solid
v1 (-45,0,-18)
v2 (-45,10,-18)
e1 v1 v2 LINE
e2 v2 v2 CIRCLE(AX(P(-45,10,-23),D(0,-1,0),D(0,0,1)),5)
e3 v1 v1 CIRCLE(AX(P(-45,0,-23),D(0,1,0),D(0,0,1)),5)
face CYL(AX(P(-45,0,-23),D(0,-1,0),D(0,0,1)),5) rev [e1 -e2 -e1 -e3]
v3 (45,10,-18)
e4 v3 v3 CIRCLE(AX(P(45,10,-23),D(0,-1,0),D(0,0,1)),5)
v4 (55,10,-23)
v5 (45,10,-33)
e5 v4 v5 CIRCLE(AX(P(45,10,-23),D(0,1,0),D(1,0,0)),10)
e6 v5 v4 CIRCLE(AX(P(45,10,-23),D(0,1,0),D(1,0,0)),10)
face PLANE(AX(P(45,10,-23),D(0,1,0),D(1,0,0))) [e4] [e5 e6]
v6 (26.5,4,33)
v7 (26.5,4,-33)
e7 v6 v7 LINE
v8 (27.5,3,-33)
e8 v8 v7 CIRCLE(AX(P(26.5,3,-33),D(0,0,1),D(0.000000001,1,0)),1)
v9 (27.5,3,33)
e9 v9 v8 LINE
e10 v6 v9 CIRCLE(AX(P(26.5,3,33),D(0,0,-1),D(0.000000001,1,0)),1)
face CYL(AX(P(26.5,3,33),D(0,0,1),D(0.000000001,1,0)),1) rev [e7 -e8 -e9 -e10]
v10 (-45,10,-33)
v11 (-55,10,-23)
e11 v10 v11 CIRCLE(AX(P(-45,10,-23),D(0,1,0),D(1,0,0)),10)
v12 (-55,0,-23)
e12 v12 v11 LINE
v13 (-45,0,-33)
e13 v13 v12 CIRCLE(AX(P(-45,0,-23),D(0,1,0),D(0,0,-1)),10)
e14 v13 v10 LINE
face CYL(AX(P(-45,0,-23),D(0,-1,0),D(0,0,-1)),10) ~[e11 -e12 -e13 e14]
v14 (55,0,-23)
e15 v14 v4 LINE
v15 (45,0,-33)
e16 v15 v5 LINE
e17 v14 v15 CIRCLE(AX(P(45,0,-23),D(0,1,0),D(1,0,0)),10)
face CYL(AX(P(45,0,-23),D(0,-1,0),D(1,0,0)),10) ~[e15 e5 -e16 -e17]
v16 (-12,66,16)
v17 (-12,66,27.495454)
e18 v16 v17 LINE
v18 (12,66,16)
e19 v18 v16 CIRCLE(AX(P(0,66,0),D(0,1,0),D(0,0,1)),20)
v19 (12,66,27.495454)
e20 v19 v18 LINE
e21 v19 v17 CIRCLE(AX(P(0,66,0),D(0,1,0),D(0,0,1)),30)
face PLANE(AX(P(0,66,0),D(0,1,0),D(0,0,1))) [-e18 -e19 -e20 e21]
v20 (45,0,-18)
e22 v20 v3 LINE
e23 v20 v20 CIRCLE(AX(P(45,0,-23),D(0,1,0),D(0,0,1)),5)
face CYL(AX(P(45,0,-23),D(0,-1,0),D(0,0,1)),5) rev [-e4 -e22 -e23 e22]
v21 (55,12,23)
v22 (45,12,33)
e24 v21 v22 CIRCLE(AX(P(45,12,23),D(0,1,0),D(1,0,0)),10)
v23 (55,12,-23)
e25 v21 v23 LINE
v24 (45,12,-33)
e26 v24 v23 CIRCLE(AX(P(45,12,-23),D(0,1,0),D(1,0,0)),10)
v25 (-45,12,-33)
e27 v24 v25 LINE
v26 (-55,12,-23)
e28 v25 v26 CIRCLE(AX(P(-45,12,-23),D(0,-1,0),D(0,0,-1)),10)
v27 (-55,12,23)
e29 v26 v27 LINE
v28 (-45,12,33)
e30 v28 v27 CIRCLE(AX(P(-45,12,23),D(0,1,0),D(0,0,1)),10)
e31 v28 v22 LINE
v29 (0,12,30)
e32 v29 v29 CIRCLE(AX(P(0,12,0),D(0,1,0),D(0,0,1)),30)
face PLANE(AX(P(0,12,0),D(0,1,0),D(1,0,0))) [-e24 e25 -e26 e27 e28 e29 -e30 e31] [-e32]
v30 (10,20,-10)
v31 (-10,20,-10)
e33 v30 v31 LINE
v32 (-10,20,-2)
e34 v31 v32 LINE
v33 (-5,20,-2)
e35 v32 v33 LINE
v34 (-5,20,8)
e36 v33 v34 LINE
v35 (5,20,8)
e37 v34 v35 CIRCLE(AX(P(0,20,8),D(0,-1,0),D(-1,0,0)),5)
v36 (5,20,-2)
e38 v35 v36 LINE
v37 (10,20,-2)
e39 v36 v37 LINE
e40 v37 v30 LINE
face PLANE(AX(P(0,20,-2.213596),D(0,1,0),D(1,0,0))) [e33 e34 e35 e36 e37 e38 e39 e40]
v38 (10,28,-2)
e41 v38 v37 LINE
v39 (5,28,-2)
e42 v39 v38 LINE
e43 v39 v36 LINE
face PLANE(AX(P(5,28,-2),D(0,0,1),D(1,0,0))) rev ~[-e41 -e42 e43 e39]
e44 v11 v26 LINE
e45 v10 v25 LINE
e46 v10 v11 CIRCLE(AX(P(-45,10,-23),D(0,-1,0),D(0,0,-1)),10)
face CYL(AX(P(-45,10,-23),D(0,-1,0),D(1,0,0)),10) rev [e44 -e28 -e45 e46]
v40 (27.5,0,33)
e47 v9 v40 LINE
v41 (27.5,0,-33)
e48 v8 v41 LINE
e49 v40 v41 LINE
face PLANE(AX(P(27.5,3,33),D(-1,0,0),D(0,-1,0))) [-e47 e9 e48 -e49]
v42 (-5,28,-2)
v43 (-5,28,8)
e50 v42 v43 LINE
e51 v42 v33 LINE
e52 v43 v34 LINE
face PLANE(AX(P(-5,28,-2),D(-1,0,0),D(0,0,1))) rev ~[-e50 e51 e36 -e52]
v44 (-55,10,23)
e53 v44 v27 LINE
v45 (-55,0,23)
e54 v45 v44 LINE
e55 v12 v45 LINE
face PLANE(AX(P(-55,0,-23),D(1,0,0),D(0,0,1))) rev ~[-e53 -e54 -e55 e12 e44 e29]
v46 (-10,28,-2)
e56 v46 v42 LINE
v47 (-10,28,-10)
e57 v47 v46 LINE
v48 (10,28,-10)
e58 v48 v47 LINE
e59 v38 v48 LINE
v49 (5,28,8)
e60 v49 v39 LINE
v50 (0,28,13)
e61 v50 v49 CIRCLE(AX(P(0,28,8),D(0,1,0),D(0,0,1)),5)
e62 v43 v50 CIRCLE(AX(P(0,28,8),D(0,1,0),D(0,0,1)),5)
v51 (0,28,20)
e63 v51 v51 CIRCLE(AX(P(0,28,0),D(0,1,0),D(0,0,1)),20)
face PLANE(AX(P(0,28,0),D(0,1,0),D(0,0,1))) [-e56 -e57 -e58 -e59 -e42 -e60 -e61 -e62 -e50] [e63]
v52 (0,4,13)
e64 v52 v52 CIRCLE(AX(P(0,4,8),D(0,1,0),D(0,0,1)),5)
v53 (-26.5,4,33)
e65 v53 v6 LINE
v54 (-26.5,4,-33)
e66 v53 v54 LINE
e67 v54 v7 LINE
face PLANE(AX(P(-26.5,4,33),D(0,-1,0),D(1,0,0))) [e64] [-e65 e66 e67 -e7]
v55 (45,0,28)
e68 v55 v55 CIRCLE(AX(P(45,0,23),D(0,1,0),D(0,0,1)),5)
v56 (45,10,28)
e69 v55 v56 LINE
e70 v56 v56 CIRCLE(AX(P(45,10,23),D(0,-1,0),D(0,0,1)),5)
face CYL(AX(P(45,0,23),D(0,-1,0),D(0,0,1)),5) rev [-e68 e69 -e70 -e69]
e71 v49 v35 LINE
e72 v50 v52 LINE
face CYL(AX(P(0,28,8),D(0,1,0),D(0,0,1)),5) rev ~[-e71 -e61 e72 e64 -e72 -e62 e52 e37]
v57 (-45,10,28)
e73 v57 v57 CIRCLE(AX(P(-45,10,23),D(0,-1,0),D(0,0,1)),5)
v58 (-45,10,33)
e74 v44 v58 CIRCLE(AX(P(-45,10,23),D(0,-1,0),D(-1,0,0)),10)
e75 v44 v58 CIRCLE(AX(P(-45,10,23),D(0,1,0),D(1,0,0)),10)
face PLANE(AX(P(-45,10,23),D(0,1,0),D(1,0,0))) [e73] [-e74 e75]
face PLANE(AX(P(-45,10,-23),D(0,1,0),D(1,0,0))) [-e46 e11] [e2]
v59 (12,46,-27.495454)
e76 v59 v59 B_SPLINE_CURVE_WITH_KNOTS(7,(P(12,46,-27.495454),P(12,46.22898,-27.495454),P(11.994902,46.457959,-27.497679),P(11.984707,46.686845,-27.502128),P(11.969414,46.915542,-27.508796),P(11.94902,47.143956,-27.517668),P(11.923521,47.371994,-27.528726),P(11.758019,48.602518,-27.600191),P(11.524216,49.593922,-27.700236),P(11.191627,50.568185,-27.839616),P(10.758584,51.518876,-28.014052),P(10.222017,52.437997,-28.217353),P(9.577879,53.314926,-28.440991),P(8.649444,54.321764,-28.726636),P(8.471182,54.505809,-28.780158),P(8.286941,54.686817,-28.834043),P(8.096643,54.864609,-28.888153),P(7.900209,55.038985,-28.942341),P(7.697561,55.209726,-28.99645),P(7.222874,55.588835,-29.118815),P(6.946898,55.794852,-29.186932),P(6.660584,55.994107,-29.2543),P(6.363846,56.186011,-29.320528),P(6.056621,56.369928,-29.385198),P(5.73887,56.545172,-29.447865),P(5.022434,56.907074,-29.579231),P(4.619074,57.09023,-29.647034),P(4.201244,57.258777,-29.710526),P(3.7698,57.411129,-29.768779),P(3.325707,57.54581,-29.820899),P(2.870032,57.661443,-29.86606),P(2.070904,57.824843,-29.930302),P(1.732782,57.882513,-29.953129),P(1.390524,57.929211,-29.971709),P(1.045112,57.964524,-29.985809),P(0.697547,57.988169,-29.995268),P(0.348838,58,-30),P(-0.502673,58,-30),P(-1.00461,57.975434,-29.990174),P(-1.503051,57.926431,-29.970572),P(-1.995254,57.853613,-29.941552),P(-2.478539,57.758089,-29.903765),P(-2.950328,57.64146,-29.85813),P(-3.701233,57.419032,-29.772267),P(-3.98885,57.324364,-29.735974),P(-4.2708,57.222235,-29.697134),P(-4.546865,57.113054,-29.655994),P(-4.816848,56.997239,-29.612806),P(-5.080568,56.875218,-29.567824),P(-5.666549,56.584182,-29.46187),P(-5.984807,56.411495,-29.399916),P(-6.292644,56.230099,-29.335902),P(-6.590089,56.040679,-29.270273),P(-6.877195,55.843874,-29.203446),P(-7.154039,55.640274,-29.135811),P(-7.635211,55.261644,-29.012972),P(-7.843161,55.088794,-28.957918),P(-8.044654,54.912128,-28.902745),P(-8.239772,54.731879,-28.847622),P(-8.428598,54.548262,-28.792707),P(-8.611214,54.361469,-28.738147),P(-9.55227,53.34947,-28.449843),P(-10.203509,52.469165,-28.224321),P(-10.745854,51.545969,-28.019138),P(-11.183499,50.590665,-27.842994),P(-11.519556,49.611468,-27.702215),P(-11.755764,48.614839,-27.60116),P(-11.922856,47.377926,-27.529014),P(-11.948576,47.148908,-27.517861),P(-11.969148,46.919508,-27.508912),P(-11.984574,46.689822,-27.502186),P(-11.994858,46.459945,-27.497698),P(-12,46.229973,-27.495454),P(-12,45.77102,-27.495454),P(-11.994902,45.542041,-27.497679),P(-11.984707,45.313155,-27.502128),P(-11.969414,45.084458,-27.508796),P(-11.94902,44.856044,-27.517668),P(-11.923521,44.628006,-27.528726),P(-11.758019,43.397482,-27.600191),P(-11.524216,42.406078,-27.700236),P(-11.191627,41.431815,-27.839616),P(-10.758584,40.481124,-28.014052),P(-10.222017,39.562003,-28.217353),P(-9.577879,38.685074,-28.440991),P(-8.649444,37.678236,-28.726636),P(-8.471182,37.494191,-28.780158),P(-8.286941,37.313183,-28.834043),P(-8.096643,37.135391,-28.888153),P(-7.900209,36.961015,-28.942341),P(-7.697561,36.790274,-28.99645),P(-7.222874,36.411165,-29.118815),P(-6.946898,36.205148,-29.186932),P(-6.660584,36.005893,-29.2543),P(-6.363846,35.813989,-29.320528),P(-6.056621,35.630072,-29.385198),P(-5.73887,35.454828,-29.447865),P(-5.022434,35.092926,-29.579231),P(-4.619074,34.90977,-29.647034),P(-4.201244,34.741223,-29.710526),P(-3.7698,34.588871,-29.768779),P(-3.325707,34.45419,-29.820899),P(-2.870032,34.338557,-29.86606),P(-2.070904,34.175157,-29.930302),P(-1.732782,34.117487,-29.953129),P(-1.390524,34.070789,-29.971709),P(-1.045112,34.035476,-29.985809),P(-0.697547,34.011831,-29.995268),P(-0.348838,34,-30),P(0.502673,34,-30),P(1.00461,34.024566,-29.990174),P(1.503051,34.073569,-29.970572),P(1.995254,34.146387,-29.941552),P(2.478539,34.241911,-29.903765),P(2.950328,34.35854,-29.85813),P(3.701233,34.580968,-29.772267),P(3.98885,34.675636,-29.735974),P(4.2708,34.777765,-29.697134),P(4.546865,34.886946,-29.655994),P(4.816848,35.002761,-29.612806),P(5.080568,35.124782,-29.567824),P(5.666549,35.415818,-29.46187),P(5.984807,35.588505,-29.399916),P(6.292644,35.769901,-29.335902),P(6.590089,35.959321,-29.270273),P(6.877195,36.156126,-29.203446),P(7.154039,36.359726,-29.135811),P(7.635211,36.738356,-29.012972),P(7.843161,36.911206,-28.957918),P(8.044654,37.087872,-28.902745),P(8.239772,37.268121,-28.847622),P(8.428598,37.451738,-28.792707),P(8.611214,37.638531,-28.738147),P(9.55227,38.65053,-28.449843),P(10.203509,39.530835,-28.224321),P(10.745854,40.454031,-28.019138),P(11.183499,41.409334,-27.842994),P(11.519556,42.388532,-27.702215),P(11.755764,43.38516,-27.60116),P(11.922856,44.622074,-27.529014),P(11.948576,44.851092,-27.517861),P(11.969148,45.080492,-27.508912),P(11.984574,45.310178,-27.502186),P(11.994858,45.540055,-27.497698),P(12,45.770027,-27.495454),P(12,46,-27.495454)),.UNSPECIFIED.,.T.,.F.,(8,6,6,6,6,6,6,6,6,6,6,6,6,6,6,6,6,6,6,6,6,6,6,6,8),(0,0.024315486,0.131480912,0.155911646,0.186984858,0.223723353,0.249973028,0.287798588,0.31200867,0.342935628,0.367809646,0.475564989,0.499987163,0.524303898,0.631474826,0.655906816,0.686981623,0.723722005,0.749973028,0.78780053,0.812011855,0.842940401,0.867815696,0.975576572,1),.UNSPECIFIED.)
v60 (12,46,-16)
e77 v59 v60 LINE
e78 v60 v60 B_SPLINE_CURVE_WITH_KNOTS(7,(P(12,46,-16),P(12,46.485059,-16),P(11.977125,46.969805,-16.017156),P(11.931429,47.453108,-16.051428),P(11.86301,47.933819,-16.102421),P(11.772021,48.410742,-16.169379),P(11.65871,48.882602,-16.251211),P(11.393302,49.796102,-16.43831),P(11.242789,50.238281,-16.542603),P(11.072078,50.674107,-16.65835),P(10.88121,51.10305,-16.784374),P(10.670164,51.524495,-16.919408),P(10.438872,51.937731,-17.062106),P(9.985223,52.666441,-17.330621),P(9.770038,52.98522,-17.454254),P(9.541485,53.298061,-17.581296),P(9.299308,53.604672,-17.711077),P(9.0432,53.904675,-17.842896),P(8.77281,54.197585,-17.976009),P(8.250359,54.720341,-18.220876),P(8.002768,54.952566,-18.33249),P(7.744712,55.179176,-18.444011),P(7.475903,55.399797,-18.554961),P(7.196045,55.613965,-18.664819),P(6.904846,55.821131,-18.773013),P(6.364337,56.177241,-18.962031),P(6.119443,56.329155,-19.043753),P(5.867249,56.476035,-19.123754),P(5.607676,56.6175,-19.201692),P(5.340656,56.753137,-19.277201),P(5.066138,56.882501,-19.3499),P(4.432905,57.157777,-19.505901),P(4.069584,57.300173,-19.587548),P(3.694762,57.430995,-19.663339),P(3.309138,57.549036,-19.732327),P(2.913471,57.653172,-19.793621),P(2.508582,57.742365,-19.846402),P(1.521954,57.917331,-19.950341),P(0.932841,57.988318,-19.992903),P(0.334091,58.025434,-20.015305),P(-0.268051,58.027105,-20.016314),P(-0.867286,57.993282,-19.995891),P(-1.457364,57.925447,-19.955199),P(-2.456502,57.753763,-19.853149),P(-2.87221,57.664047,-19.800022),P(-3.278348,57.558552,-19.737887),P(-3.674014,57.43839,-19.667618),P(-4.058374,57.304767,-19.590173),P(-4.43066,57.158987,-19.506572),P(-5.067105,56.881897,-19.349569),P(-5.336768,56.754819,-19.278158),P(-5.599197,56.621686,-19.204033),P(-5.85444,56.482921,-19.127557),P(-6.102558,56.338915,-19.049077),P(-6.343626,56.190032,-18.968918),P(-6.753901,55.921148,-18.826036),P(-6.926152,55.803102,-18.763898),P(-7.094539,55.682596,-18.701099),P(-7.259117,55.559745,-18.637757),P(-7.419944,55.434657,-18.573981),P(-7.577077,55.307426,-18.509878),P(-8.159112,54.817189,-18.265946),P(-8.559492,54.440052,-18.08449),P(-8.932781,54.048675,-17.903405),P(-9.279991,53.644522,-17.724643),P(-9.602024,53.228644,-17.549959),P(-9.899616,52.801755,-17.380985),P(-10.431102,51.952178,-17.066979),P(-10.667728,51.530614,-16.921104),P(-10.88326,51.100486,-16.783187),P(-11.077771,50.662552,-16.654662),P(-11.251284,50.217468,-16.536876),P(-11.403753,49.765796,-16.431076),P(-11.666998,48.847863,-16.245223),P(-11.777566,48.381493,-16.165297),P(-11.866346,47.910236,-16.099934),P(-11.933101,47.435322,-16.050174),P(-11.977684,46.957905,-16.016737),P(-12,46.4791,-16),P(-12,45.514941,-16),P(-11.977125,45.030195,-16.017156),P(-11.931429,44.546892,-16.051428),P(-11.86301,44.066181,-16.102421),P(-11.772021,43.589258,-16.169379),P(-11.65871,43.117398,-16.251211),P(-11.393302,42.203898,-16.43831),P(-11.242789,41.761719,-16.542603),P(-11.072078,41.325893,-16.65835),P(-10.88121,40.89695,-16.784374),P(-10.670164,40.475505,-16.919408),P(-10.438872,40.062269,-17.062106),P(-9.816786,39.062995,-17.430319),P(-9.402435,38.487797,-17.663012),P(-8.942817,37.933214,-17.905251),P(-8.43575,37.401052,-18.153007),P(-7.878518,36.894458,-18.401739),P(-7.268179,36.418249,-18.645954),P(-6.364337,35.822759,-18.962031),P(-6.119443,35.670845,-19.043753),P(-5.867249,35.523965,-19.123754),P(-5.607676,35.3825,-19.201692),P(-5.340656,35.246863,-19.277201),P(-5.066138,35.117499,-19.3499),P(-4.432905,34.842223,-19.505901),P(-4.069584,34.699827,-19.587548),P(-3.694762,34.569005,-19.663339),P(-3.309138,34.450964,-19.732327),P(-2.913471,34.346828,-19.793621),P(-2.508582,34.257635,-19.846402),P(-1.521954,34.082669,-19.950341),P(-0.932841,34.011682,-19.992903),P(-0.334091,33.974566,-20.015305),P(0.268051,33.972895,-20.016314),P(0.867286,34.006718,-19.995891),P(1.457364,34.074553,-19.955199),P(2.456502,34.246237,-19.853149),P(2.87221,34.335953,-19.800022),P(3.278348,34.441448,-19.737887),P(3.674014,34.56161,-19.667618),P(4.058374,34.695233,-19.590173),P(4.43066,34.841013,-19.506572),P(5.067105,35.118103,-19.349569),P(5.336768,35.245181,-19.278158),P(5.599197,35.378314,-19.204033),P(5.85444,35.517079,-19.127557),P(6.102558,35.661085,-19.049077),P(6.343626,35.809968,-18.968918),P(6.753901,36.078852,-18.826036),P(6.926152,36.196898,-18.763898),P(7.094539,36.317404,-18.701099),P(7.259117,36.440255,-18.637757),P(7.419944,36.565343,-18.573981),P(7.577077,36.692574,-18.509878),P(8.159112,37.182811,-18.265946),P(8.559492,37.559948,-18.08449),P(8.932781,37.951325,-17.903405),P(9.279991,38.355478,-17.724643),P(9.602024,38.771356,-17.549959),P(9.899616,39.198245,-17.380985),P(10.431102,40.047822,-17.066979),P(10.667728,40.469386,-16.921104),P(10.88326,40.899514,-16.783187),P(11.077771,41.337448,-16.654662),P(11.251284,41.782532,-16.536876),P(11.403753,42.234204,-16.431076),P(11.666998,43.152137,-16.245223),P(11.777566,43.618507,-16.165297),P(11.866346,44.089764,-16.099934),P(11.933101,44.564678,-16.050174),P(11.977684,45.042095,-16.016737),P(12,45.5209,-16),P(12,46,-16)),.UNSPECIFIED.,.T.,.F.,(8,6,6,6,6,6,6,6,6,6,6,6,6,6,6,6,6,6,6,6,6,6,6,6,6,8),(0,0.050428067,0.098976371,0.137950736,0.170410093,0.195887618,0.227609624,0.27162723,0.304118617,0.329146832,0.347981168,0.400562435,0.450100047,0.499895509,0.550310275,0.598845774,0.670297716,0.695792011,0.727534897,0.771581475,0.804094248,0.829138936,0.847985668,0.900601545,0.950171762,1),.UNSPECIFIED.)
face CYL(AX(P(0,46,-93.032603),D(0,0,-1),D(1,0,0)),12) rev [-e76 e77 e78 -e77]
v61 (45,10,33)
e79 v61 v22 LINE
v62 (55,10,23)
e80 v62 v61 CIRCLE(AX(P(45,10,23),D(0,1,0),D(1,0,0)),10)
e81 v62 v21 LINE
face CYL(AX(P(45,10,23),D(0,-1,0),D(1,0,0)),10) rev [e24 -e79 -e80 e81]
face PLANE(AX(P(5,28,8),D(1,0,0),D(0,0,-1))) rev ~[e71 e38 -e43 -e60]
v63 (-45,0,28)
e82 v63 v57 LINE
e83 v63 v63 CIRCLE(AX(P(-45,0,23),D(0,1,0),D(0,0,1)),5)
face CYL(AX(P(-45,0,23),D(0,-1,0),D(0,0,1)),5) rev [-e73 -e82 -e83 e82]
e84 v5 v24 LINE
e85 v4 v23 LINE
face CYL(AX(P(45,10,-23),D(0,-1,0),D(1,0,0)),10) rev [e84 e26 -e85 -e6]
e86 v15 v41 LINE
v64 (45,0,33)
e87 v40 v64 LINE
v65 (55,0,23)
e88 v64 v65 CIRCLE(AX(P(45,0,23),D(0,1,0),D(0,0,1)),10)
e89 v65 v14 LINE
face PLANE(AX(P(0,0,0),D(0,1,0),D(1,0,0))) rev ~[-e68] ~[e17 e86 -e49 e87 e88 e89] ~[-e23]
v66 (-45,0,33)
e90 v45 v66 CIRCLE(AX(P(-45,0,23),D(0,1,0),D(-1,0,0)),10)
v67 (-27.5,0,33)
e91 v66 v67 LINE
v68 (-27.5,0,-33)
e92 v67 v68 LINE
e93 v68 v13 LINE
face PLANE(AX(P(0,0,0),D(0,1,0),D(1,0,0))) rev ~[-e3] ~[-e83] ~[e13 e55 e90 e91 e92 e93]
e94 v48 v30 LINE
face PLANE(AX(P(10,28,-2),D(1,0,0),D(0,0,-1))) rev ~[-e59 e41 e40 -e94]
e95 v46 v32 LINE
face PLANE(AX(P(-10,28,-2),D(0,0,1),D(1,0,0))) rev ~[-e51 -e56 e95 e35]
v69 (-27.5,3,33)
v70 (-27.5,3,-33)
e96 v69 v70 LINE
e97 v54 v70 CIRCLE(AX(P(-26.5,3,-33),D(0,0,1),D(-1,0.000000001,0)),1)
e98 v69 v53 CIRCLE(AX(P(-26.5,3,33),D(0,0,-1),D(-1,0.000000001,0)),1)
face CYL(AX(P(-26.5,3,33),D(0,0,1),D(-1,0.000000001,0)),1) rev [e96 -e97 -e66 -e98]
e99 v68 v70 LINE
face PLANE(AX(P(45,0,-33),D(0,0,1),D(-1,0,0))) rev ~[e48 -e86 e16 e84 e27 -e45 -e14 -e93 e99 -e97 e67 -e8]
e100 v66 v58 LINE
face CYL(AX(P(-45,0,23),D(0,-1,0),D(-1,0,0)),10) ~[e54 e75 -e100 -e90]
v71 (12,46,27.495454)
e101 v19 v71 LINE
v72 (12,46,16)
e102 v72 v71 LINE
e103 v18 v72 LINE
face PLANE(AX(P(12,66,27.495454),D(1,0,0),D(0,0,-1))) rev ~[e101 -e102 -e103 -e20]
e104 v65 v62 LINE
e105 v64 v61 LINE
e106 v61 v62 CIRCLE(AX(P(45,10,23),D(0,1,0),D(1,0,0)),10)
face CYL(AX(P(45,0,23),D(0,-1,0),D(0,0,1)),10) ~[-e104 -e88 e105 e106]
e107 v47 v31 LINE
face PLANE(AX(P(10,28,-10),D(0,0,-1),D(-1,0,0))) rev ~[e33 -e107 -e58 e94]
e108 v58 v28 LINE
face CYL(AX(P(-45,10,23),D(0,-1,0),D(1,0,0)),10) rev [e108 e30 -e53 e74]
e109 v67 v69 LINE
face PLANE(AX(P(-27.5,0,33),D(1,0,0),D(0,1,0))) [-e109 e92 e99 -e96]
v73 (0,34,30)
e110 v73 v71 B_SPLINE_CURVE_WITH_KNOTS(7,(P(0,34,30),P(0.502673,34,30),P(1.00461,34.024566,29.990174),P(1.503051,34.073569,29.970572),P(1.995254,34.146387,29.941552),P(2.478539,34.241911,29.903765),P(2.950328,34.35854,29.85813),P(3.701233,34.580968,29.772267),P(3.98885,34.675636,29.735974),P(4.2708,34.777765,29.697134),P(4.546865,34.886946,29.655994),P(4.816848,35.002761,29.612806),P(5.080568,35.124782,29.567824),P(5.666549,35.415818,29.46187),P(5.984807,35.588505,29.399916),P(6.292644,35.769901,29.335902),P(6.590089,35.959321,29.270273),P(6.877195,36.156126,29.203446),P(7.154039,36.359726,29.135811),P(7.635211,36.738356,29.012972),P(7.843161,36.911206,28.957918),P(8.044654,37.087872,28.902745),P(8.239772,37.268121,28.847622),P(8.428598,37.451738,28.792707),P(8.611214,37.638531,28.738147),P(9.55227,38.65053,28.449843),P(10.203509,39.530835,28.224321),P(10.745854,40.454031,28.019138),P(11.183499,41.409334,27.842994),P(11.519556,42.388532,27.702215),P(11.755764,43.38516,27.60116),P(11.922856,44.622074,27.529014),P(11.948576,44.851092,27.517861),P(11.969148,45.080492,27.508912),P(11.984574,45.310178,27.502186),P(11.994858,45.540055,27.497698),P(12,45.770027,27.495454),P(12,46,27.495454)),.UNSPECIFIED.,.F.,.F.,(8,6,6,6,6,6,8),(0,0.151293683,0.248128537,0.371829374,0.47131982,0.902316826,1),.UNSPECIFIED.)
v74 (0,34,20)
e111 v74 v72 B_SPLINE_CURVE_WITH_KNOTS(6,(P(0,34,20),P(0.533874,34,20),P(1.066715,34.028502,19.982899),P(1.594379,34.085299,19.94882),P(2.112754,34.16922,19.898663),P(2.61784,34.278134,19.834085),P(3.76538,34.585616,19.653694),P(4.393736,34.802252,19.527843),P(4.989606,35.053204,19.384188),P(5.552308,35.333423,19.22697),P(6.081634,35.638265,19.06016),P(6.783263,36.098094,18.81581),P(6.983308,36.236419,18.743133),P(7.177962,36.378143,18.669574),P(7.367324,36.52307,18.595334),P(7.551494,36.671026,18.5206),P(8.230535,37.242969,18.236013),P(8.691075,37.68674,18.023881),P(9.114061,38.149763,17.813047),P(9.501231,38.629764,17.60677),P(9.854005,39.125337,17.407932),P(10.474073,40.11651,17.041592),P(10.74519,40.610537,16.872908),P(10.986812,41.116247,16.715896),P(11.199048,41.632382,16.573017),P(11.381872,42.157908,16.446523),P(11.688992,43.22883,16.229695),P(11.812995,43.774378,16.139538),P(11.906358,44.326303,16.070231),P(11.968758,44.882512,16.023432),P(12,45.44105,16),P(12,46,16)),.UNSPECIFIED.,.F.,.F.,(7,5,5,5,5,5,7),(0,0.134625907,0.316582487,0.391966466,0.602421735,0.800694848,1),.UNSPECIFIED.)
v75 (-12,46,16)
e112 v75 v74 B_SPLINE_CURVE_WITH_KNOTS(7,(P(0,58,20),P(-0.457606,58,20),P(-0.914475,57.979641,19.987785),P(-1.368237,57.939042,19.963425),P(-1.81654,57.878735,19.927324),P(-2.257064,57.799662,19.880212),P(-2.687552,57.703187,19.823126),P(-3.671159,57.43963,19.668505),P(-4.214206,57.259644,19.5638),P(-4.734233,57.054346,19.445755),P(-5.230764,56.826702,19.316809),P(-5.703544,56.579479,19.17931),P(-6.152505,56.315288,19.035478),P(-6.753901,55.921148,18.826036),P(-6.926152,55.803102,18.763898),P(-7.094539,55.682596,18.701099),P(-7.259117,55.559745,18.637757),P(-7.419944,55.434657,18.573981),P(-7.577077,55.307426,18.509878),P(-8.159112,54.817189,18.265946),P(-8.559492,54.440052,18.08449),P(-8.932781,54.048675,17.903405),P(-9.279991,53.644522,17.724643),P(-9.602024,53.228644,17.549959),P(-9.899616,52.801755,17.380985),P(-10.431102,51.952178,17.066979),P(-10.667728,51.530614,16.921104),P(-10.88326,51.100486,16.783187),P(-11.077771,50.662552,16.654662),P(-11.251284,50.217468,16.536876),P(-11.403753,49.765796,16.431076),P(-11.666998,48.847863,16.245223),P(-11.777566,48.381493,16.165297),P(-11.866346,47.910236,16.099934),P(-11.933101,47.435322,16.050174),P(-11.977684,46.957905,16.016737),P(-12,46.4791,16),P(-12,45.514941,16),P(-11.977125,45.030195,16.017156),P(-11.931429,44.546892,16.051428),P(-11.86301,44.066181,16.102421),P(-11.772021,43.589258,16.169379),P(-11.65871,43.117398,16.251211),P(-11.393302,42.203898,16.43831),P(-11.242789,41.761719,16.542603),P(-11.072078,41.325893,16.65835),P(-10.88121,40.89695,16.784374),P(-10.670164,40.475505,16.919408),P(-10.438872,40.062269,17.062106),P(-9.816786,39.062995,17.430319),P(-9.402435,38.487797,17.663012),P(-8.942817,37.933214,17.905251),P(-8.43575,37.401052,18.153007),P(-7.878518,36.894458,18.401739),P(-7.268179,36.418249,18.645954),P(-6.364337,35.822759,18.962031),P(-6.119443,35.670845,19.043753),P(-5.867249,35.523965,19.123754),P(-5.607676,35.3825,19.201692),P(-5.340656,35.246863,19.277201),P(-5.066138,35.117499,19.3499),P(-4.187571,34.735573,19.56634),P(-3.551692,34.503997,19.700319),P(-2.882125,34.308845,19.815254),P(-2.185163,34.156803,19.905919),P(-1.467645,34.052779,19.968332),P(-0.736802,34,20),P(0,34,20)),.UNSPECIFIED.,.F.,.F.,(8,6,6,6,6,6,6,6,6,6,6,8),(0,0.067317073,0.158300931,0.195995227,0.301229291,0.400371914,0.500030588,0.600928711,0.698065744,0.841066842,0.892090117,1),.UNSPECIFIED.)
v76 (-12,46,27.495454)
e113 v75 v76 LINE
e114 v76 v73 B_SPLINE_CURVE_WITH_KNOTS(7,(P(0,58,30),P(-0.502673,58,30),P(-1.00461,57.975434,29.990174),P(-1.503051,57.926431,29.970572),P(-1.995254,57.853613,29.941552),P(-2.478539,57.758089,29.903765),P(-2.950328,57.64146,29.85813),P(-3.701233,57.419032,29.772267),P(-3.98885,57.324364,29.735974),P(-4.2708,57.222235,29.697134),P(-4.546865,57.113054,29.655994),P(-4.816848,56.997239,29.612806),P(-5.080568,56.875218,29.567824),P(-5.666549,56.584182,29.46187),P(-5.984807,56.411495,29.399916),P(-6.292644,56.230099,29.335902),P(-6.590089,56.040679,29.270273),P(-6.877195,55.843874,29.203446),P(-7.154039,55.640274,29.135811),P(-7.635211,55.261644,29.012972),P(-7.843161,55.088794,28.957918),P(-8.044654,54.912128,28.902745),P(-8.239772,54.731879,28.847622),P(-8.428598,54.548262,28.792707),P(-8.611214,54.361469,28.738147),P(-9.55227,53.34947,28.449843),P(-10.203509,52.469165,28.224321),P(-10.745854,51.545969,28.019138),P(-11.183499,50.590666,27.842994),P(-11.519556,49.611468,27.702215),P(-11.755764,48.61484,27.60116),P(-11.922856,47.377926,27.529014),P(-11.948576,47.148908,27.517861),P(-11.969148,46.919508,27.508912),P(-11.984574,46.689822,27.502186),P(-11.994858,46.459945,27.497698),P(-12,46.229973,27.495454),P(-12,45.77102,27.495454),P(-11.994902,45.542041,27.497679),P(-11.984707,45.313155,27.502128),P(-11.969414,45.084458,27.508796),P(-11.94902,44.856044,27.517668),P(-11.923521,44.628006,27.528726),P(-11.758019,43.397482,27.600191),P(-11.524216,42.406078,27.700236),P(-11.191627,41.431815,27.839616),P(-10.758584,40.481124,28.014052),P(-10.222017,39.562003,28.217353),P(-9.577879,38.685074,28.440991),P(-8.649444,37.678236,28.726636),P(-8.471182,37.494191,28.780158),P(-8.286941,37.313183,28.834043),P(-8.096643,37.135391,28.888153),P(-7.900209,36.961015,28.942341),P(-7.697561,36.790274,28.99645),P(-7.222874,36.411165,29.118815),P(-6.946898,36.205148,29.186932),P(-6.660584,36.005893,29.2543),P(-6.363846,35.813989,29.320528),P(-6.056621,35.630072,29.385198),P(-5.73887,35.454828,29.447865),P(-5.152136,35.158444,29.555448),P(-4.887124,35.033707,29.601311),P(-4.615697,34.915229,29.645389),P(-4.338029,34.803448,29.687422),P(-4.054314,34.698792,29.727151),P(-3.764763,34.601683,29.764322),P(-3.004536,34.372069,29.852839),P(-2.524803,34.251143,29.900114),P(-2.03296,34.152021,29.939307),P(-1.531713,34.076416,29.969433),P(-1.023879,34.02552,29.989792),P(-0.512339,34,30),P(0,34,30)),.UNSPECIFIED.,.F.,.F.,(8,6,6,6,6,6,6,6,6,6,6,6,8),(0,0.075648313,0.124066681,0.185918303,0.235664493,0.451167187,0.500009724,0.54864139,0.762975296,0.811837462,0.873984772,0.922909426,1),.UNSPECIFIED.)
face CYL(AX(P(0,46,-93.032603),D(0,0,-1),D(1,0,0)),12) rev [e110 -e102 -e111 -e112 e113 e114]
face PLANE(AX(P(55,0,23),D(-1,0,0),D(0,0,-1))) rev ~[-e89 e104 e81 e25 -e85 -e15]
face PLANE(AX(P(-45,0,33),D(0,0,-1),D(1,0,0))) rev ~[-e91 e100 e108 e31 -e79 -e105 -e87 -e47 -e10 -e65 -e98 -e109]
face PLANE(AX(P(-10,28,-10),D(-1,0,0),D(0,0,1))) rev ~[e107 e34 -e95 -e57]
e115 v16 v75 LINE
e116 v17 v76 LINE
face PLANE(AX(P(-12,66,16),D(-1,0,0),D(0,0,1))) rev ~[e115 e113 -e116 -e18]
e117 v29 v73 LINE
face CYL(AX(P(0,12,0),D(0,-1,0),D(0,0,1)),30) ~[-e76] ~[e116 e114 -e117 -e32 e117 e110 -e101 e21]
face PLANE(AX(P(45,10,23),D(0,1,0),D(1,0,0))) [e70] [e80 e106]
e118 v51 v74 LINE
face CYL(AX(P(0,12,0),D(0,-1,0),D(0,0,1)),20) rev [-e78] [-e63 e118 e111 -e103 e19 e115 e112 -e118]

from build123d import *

# Parameters (mm, degrees)
SKETCH_1_R                      = 5
EXTRUDE_1_DEPTH                 = 12
CUT_EXTRUDE_START               = -2
SKETCH_3_R                      = 10
CUT_EXTRUDE_1_DEPTH             = 2
CUT_EXTRUDE_2_DEPTH             = 87.746757864
SKETCH_5_R                      = 30
SKETCH_5_R_2                    = 20
EXTRUDE_2_DEPTH                 = 54
SKETCH_6_R                      = 20
EXTRUDE_3_DEPTH                 = 16
CUT_EXTRUDE_4_DEPTH             = 8
SKETCH_7_3_R                    = 5
CUT_EXTRUDE_5_DEPTH             = 75.551995278
CUT_EXTRUDE_6_DEPTH             = 93.032602919
CUT_EXTRUDE_6_DEPTH_BACK        = 93.032602919
SKETCH_8_R                      = 12
CUT_EXTRUDE_7_REACH             = 94.033
CUT_EXTRUDE_7_END_RADIUS        = 12
CUT_EXTRUDE_7_DIRECTION_2_DEPTH = 93.032602919


with BuildPart() as part:
    # 草图1 → 凸台-拉伸1 (new body)
    with BuildSketch(Plane(origin=(0, 0, 0), x_dir=(1, 0, 0), z_dir=(0, 1, 0))):
        with BuildLine():
            Line((-45, -33), (45, -33))
            ThreePointArc((45, -33), (52.071067812, -30.071067812), (55, -23))
            Line((55, -23), (55, 23))
            ThreePointArc((55, 23), (52.071067812, 30.071067812), (45, 33))
            Line((45, 33), (-45, 33))
            ThreePointArc((-45, 33), (-52.071067812, 30.071067812), (-55, 23))
            Line((-55, 23), (-55, -23))
            ThreePointArc((-55, -23), (-52.071067812, -30.071067812), (-45, -33))
        make_face()
        with Locations(Location((-45, 23, 0), (0, 0, 270))):
            Circle(SKETCH_1_R, mode=Mode.SUBTRACT)
        with Locations(Location((45, 23, 0), (0, 0, 270))):
            Circle(SKETCH_1_R, mode=Mode.SUBTRACT)
        with Locations(Location((45, -23, 0), (0, 0, 270))):
            Circle(SKETCH_1_R, mode=Mode.SUBTRACT)
        with Locations(Location((-45, -23, 0), (0, 0, 270))):
            Circle(SKETCH_1_R, mode=Mode.SUBTRACT)
    extrude(amount=EXTRUDE_1_DEPTH)

    # 草图3 → 切除-拉伸1 (cut)
    with BuildSketch(Plane(origin=(0, 12, 0), x_dir=(1, 0, 0), z_dir=(0, 1, 0)).offset(CUT_EXTRUDE_START)):
        with Locations((-45, 23)):
            Circle(SKETCH_3_R)
        with Locations((-45, -23)):
            Circle(SKETCH_3_R)
        with Locations((45, -23)):
            Circle(SKETCH_3_R)
        with Locations((45, 23)):
            Circle(SKETCH_3_R)
    extrude(amount=CUT_EXTRUDE_1_DEPTH, mode=Mode.SUBTRACT)

    # 草图4 → 切除-拉伸2 (cut, through all)
    with BuildSketch(Plane.XY.offset(33)):
        with BuildLine():
            Line((-27.5, 0), (-27.5, 3))
            ThreePointArc((-27.5, 3), (-27.207106781, 3.707106781), (-26.5, 4))
            Line((-26.5, 4), (26.5, 4))
            ThreePointArc((26.5, 4), (27.207106781, 3.707106781), (27.5, 3))
            Line((27.5, 3), (27.5, 0))
            Line((27.5, 0), (-27.5, 0))
        make_face()
    extrude(amount=-CUT_EXTRUDE_2_DEPTH, mode=Mode.SUBTRACT)

    # 草图5 → 凸台-拉伸2 (add)
    with BuildSketch(Plane(origin=(0, 12, 0), x_dir=(1, 0, 0), z_dir=(0, 1, 0))):
        with Locations(Location((0, 0, 0), (0, 0, 270))):
            Circle(SKETCH_5_R)
        with Locations(Location((0, 0, 0), (0, 0, 270))):
            Circle(SKETCH_5_R_2, mode=Mode.SUBTRACT)
    extrude(amount=EXTRUDE_2_DEPTH)

    # 草图6 → 凸台-拉伸3 (add)
    with BuildSketch(Plane(origin=(0, 12, 0), x_dir=(1, 0, 0), z_dir=(0, 1, 0))):
        with Locations(Location((0, 0, 0), (0, 0, 270))):
            Circle(SKETCH_6_R)
    extrude(amount=EXTRUDE_3_DEPTH)

    # 草图7 → 切除-拉伸4 (cut)
    with BuildSketch(Plane(origin=(0, 28, 0), x_dir=(1, 0, 0), z_dir=(0, 1, 0))):
        with BuildLine():
            Line((5, -8), (5, 2))
            Line((5, 2), (10, 2))
            Line((10, 2), (10, 10))
            Line((10, 10), (-10, 10))
            Line((-10, 10), (-10, 2))
            Line((-10, 2), (-5, 2))
            Line((-5, 2), (-5, -8))
            ThreePointArc((-5, -8), (0, -3), (5, -8))
        make_face()
    extrude(amount=-CUT_EXTRUDE_4_DEPTH, mode=Mode.SUBTRACT)

    # 草图7<3> → 切除-拉伸5 (cut, through all)
    with BuildSketch(Plane(origin=(0, 28, 0), x_dir=(1, 0, 0), z_dir=(0, 1, 0))):
        with Locations(Location((0, -8, 0), (0, 0, 270))):
            Circle(SKETCH_7_3_R)
    extrude(amount=-CUT_EXTRUDE_5_DEPTH, mode=Mode.SUBTRACT)

    # 草图8 → 切除-拉伸6 (cut, two sides: drawn at the far end of the back side and taken through both)
    with BuildSketch(Plane.XY.offset(-CUT_EXTRUDE_6_DEPTH_BACK)):
        with Locations((0, 46)):
            Circle(SKETCH_8_R)
    extrude(amount=CUT_EXTRUDE_6_DEPTH + CUT_EXTRUDE_6_DEPTH_BACK, mode=Mode.SUBTRACT)

    # 切除-拉伸7: up to this cylinder (the profile starts outside it)
    cut_extrude_7_end = Plane(origin=(0, 46, 23.912941), z_dir=(0, 0, 1)) * Cylinder(CUT_EXTRUDE_7_END_RADIUS, 213.066, mode=Mode.PRIVATE)
    # 草图9 → 切除-拉伸7 (cut, up to the surface)
    with BuildSketch(Plane(origin=(0, 66, 0), x_dir=(1, 0, 0), z_dir=(0, 1, 0)), mode=Mode.PRIVATE) as cut_extrude_7_sk1:
        with BuildLine():
            Line((-12, -16), (-12, -27.49545417))
            ThreePointArc((-12, -27.49545417), (0, -30), (12, -27.49545417))
            Line((12, -27.49545417), (12, -16))
            ThreePointArc((12, -16), (0, -20), (-12, -16))
        make_face()
    cut_extrude_7_tool1 = extrude(cut_extrude_7_sk1.sketch, amount=-CUT_EXTRUDE_7_REACH, mode=Mode.PRIVATE) - cut_extrude_7_end
    add(cut_extrude_7_tool1.solids().sort_by_distance((0, 66, 23.912941))[0], mode=Mode.SUBTRACT)

    # 草图9 → 切除-拉伸7 direction 2 (cut)
    with BuildSketch(Plane(origin=(0, 66, 0), x_dir=(1, 0, 0), z_dir=(0, 1, 0))):
        with BuildLine():
            Line((-12, -16), (-12, -27.49545417))
            ThreePointArc((-12, -27.49545417), (0, -30), (12, -27.49545417))
            Line((12, -27.49545417), (12, -16))
            ThreePointArc((12, -16), (0, -20), (-12, -16))
        make_face()
    extrude(amount=CUT_EXTRUDE_7_DIRECTION_2_DEPTH, mode=Mode.SUBTRACT)


solid = part.part
